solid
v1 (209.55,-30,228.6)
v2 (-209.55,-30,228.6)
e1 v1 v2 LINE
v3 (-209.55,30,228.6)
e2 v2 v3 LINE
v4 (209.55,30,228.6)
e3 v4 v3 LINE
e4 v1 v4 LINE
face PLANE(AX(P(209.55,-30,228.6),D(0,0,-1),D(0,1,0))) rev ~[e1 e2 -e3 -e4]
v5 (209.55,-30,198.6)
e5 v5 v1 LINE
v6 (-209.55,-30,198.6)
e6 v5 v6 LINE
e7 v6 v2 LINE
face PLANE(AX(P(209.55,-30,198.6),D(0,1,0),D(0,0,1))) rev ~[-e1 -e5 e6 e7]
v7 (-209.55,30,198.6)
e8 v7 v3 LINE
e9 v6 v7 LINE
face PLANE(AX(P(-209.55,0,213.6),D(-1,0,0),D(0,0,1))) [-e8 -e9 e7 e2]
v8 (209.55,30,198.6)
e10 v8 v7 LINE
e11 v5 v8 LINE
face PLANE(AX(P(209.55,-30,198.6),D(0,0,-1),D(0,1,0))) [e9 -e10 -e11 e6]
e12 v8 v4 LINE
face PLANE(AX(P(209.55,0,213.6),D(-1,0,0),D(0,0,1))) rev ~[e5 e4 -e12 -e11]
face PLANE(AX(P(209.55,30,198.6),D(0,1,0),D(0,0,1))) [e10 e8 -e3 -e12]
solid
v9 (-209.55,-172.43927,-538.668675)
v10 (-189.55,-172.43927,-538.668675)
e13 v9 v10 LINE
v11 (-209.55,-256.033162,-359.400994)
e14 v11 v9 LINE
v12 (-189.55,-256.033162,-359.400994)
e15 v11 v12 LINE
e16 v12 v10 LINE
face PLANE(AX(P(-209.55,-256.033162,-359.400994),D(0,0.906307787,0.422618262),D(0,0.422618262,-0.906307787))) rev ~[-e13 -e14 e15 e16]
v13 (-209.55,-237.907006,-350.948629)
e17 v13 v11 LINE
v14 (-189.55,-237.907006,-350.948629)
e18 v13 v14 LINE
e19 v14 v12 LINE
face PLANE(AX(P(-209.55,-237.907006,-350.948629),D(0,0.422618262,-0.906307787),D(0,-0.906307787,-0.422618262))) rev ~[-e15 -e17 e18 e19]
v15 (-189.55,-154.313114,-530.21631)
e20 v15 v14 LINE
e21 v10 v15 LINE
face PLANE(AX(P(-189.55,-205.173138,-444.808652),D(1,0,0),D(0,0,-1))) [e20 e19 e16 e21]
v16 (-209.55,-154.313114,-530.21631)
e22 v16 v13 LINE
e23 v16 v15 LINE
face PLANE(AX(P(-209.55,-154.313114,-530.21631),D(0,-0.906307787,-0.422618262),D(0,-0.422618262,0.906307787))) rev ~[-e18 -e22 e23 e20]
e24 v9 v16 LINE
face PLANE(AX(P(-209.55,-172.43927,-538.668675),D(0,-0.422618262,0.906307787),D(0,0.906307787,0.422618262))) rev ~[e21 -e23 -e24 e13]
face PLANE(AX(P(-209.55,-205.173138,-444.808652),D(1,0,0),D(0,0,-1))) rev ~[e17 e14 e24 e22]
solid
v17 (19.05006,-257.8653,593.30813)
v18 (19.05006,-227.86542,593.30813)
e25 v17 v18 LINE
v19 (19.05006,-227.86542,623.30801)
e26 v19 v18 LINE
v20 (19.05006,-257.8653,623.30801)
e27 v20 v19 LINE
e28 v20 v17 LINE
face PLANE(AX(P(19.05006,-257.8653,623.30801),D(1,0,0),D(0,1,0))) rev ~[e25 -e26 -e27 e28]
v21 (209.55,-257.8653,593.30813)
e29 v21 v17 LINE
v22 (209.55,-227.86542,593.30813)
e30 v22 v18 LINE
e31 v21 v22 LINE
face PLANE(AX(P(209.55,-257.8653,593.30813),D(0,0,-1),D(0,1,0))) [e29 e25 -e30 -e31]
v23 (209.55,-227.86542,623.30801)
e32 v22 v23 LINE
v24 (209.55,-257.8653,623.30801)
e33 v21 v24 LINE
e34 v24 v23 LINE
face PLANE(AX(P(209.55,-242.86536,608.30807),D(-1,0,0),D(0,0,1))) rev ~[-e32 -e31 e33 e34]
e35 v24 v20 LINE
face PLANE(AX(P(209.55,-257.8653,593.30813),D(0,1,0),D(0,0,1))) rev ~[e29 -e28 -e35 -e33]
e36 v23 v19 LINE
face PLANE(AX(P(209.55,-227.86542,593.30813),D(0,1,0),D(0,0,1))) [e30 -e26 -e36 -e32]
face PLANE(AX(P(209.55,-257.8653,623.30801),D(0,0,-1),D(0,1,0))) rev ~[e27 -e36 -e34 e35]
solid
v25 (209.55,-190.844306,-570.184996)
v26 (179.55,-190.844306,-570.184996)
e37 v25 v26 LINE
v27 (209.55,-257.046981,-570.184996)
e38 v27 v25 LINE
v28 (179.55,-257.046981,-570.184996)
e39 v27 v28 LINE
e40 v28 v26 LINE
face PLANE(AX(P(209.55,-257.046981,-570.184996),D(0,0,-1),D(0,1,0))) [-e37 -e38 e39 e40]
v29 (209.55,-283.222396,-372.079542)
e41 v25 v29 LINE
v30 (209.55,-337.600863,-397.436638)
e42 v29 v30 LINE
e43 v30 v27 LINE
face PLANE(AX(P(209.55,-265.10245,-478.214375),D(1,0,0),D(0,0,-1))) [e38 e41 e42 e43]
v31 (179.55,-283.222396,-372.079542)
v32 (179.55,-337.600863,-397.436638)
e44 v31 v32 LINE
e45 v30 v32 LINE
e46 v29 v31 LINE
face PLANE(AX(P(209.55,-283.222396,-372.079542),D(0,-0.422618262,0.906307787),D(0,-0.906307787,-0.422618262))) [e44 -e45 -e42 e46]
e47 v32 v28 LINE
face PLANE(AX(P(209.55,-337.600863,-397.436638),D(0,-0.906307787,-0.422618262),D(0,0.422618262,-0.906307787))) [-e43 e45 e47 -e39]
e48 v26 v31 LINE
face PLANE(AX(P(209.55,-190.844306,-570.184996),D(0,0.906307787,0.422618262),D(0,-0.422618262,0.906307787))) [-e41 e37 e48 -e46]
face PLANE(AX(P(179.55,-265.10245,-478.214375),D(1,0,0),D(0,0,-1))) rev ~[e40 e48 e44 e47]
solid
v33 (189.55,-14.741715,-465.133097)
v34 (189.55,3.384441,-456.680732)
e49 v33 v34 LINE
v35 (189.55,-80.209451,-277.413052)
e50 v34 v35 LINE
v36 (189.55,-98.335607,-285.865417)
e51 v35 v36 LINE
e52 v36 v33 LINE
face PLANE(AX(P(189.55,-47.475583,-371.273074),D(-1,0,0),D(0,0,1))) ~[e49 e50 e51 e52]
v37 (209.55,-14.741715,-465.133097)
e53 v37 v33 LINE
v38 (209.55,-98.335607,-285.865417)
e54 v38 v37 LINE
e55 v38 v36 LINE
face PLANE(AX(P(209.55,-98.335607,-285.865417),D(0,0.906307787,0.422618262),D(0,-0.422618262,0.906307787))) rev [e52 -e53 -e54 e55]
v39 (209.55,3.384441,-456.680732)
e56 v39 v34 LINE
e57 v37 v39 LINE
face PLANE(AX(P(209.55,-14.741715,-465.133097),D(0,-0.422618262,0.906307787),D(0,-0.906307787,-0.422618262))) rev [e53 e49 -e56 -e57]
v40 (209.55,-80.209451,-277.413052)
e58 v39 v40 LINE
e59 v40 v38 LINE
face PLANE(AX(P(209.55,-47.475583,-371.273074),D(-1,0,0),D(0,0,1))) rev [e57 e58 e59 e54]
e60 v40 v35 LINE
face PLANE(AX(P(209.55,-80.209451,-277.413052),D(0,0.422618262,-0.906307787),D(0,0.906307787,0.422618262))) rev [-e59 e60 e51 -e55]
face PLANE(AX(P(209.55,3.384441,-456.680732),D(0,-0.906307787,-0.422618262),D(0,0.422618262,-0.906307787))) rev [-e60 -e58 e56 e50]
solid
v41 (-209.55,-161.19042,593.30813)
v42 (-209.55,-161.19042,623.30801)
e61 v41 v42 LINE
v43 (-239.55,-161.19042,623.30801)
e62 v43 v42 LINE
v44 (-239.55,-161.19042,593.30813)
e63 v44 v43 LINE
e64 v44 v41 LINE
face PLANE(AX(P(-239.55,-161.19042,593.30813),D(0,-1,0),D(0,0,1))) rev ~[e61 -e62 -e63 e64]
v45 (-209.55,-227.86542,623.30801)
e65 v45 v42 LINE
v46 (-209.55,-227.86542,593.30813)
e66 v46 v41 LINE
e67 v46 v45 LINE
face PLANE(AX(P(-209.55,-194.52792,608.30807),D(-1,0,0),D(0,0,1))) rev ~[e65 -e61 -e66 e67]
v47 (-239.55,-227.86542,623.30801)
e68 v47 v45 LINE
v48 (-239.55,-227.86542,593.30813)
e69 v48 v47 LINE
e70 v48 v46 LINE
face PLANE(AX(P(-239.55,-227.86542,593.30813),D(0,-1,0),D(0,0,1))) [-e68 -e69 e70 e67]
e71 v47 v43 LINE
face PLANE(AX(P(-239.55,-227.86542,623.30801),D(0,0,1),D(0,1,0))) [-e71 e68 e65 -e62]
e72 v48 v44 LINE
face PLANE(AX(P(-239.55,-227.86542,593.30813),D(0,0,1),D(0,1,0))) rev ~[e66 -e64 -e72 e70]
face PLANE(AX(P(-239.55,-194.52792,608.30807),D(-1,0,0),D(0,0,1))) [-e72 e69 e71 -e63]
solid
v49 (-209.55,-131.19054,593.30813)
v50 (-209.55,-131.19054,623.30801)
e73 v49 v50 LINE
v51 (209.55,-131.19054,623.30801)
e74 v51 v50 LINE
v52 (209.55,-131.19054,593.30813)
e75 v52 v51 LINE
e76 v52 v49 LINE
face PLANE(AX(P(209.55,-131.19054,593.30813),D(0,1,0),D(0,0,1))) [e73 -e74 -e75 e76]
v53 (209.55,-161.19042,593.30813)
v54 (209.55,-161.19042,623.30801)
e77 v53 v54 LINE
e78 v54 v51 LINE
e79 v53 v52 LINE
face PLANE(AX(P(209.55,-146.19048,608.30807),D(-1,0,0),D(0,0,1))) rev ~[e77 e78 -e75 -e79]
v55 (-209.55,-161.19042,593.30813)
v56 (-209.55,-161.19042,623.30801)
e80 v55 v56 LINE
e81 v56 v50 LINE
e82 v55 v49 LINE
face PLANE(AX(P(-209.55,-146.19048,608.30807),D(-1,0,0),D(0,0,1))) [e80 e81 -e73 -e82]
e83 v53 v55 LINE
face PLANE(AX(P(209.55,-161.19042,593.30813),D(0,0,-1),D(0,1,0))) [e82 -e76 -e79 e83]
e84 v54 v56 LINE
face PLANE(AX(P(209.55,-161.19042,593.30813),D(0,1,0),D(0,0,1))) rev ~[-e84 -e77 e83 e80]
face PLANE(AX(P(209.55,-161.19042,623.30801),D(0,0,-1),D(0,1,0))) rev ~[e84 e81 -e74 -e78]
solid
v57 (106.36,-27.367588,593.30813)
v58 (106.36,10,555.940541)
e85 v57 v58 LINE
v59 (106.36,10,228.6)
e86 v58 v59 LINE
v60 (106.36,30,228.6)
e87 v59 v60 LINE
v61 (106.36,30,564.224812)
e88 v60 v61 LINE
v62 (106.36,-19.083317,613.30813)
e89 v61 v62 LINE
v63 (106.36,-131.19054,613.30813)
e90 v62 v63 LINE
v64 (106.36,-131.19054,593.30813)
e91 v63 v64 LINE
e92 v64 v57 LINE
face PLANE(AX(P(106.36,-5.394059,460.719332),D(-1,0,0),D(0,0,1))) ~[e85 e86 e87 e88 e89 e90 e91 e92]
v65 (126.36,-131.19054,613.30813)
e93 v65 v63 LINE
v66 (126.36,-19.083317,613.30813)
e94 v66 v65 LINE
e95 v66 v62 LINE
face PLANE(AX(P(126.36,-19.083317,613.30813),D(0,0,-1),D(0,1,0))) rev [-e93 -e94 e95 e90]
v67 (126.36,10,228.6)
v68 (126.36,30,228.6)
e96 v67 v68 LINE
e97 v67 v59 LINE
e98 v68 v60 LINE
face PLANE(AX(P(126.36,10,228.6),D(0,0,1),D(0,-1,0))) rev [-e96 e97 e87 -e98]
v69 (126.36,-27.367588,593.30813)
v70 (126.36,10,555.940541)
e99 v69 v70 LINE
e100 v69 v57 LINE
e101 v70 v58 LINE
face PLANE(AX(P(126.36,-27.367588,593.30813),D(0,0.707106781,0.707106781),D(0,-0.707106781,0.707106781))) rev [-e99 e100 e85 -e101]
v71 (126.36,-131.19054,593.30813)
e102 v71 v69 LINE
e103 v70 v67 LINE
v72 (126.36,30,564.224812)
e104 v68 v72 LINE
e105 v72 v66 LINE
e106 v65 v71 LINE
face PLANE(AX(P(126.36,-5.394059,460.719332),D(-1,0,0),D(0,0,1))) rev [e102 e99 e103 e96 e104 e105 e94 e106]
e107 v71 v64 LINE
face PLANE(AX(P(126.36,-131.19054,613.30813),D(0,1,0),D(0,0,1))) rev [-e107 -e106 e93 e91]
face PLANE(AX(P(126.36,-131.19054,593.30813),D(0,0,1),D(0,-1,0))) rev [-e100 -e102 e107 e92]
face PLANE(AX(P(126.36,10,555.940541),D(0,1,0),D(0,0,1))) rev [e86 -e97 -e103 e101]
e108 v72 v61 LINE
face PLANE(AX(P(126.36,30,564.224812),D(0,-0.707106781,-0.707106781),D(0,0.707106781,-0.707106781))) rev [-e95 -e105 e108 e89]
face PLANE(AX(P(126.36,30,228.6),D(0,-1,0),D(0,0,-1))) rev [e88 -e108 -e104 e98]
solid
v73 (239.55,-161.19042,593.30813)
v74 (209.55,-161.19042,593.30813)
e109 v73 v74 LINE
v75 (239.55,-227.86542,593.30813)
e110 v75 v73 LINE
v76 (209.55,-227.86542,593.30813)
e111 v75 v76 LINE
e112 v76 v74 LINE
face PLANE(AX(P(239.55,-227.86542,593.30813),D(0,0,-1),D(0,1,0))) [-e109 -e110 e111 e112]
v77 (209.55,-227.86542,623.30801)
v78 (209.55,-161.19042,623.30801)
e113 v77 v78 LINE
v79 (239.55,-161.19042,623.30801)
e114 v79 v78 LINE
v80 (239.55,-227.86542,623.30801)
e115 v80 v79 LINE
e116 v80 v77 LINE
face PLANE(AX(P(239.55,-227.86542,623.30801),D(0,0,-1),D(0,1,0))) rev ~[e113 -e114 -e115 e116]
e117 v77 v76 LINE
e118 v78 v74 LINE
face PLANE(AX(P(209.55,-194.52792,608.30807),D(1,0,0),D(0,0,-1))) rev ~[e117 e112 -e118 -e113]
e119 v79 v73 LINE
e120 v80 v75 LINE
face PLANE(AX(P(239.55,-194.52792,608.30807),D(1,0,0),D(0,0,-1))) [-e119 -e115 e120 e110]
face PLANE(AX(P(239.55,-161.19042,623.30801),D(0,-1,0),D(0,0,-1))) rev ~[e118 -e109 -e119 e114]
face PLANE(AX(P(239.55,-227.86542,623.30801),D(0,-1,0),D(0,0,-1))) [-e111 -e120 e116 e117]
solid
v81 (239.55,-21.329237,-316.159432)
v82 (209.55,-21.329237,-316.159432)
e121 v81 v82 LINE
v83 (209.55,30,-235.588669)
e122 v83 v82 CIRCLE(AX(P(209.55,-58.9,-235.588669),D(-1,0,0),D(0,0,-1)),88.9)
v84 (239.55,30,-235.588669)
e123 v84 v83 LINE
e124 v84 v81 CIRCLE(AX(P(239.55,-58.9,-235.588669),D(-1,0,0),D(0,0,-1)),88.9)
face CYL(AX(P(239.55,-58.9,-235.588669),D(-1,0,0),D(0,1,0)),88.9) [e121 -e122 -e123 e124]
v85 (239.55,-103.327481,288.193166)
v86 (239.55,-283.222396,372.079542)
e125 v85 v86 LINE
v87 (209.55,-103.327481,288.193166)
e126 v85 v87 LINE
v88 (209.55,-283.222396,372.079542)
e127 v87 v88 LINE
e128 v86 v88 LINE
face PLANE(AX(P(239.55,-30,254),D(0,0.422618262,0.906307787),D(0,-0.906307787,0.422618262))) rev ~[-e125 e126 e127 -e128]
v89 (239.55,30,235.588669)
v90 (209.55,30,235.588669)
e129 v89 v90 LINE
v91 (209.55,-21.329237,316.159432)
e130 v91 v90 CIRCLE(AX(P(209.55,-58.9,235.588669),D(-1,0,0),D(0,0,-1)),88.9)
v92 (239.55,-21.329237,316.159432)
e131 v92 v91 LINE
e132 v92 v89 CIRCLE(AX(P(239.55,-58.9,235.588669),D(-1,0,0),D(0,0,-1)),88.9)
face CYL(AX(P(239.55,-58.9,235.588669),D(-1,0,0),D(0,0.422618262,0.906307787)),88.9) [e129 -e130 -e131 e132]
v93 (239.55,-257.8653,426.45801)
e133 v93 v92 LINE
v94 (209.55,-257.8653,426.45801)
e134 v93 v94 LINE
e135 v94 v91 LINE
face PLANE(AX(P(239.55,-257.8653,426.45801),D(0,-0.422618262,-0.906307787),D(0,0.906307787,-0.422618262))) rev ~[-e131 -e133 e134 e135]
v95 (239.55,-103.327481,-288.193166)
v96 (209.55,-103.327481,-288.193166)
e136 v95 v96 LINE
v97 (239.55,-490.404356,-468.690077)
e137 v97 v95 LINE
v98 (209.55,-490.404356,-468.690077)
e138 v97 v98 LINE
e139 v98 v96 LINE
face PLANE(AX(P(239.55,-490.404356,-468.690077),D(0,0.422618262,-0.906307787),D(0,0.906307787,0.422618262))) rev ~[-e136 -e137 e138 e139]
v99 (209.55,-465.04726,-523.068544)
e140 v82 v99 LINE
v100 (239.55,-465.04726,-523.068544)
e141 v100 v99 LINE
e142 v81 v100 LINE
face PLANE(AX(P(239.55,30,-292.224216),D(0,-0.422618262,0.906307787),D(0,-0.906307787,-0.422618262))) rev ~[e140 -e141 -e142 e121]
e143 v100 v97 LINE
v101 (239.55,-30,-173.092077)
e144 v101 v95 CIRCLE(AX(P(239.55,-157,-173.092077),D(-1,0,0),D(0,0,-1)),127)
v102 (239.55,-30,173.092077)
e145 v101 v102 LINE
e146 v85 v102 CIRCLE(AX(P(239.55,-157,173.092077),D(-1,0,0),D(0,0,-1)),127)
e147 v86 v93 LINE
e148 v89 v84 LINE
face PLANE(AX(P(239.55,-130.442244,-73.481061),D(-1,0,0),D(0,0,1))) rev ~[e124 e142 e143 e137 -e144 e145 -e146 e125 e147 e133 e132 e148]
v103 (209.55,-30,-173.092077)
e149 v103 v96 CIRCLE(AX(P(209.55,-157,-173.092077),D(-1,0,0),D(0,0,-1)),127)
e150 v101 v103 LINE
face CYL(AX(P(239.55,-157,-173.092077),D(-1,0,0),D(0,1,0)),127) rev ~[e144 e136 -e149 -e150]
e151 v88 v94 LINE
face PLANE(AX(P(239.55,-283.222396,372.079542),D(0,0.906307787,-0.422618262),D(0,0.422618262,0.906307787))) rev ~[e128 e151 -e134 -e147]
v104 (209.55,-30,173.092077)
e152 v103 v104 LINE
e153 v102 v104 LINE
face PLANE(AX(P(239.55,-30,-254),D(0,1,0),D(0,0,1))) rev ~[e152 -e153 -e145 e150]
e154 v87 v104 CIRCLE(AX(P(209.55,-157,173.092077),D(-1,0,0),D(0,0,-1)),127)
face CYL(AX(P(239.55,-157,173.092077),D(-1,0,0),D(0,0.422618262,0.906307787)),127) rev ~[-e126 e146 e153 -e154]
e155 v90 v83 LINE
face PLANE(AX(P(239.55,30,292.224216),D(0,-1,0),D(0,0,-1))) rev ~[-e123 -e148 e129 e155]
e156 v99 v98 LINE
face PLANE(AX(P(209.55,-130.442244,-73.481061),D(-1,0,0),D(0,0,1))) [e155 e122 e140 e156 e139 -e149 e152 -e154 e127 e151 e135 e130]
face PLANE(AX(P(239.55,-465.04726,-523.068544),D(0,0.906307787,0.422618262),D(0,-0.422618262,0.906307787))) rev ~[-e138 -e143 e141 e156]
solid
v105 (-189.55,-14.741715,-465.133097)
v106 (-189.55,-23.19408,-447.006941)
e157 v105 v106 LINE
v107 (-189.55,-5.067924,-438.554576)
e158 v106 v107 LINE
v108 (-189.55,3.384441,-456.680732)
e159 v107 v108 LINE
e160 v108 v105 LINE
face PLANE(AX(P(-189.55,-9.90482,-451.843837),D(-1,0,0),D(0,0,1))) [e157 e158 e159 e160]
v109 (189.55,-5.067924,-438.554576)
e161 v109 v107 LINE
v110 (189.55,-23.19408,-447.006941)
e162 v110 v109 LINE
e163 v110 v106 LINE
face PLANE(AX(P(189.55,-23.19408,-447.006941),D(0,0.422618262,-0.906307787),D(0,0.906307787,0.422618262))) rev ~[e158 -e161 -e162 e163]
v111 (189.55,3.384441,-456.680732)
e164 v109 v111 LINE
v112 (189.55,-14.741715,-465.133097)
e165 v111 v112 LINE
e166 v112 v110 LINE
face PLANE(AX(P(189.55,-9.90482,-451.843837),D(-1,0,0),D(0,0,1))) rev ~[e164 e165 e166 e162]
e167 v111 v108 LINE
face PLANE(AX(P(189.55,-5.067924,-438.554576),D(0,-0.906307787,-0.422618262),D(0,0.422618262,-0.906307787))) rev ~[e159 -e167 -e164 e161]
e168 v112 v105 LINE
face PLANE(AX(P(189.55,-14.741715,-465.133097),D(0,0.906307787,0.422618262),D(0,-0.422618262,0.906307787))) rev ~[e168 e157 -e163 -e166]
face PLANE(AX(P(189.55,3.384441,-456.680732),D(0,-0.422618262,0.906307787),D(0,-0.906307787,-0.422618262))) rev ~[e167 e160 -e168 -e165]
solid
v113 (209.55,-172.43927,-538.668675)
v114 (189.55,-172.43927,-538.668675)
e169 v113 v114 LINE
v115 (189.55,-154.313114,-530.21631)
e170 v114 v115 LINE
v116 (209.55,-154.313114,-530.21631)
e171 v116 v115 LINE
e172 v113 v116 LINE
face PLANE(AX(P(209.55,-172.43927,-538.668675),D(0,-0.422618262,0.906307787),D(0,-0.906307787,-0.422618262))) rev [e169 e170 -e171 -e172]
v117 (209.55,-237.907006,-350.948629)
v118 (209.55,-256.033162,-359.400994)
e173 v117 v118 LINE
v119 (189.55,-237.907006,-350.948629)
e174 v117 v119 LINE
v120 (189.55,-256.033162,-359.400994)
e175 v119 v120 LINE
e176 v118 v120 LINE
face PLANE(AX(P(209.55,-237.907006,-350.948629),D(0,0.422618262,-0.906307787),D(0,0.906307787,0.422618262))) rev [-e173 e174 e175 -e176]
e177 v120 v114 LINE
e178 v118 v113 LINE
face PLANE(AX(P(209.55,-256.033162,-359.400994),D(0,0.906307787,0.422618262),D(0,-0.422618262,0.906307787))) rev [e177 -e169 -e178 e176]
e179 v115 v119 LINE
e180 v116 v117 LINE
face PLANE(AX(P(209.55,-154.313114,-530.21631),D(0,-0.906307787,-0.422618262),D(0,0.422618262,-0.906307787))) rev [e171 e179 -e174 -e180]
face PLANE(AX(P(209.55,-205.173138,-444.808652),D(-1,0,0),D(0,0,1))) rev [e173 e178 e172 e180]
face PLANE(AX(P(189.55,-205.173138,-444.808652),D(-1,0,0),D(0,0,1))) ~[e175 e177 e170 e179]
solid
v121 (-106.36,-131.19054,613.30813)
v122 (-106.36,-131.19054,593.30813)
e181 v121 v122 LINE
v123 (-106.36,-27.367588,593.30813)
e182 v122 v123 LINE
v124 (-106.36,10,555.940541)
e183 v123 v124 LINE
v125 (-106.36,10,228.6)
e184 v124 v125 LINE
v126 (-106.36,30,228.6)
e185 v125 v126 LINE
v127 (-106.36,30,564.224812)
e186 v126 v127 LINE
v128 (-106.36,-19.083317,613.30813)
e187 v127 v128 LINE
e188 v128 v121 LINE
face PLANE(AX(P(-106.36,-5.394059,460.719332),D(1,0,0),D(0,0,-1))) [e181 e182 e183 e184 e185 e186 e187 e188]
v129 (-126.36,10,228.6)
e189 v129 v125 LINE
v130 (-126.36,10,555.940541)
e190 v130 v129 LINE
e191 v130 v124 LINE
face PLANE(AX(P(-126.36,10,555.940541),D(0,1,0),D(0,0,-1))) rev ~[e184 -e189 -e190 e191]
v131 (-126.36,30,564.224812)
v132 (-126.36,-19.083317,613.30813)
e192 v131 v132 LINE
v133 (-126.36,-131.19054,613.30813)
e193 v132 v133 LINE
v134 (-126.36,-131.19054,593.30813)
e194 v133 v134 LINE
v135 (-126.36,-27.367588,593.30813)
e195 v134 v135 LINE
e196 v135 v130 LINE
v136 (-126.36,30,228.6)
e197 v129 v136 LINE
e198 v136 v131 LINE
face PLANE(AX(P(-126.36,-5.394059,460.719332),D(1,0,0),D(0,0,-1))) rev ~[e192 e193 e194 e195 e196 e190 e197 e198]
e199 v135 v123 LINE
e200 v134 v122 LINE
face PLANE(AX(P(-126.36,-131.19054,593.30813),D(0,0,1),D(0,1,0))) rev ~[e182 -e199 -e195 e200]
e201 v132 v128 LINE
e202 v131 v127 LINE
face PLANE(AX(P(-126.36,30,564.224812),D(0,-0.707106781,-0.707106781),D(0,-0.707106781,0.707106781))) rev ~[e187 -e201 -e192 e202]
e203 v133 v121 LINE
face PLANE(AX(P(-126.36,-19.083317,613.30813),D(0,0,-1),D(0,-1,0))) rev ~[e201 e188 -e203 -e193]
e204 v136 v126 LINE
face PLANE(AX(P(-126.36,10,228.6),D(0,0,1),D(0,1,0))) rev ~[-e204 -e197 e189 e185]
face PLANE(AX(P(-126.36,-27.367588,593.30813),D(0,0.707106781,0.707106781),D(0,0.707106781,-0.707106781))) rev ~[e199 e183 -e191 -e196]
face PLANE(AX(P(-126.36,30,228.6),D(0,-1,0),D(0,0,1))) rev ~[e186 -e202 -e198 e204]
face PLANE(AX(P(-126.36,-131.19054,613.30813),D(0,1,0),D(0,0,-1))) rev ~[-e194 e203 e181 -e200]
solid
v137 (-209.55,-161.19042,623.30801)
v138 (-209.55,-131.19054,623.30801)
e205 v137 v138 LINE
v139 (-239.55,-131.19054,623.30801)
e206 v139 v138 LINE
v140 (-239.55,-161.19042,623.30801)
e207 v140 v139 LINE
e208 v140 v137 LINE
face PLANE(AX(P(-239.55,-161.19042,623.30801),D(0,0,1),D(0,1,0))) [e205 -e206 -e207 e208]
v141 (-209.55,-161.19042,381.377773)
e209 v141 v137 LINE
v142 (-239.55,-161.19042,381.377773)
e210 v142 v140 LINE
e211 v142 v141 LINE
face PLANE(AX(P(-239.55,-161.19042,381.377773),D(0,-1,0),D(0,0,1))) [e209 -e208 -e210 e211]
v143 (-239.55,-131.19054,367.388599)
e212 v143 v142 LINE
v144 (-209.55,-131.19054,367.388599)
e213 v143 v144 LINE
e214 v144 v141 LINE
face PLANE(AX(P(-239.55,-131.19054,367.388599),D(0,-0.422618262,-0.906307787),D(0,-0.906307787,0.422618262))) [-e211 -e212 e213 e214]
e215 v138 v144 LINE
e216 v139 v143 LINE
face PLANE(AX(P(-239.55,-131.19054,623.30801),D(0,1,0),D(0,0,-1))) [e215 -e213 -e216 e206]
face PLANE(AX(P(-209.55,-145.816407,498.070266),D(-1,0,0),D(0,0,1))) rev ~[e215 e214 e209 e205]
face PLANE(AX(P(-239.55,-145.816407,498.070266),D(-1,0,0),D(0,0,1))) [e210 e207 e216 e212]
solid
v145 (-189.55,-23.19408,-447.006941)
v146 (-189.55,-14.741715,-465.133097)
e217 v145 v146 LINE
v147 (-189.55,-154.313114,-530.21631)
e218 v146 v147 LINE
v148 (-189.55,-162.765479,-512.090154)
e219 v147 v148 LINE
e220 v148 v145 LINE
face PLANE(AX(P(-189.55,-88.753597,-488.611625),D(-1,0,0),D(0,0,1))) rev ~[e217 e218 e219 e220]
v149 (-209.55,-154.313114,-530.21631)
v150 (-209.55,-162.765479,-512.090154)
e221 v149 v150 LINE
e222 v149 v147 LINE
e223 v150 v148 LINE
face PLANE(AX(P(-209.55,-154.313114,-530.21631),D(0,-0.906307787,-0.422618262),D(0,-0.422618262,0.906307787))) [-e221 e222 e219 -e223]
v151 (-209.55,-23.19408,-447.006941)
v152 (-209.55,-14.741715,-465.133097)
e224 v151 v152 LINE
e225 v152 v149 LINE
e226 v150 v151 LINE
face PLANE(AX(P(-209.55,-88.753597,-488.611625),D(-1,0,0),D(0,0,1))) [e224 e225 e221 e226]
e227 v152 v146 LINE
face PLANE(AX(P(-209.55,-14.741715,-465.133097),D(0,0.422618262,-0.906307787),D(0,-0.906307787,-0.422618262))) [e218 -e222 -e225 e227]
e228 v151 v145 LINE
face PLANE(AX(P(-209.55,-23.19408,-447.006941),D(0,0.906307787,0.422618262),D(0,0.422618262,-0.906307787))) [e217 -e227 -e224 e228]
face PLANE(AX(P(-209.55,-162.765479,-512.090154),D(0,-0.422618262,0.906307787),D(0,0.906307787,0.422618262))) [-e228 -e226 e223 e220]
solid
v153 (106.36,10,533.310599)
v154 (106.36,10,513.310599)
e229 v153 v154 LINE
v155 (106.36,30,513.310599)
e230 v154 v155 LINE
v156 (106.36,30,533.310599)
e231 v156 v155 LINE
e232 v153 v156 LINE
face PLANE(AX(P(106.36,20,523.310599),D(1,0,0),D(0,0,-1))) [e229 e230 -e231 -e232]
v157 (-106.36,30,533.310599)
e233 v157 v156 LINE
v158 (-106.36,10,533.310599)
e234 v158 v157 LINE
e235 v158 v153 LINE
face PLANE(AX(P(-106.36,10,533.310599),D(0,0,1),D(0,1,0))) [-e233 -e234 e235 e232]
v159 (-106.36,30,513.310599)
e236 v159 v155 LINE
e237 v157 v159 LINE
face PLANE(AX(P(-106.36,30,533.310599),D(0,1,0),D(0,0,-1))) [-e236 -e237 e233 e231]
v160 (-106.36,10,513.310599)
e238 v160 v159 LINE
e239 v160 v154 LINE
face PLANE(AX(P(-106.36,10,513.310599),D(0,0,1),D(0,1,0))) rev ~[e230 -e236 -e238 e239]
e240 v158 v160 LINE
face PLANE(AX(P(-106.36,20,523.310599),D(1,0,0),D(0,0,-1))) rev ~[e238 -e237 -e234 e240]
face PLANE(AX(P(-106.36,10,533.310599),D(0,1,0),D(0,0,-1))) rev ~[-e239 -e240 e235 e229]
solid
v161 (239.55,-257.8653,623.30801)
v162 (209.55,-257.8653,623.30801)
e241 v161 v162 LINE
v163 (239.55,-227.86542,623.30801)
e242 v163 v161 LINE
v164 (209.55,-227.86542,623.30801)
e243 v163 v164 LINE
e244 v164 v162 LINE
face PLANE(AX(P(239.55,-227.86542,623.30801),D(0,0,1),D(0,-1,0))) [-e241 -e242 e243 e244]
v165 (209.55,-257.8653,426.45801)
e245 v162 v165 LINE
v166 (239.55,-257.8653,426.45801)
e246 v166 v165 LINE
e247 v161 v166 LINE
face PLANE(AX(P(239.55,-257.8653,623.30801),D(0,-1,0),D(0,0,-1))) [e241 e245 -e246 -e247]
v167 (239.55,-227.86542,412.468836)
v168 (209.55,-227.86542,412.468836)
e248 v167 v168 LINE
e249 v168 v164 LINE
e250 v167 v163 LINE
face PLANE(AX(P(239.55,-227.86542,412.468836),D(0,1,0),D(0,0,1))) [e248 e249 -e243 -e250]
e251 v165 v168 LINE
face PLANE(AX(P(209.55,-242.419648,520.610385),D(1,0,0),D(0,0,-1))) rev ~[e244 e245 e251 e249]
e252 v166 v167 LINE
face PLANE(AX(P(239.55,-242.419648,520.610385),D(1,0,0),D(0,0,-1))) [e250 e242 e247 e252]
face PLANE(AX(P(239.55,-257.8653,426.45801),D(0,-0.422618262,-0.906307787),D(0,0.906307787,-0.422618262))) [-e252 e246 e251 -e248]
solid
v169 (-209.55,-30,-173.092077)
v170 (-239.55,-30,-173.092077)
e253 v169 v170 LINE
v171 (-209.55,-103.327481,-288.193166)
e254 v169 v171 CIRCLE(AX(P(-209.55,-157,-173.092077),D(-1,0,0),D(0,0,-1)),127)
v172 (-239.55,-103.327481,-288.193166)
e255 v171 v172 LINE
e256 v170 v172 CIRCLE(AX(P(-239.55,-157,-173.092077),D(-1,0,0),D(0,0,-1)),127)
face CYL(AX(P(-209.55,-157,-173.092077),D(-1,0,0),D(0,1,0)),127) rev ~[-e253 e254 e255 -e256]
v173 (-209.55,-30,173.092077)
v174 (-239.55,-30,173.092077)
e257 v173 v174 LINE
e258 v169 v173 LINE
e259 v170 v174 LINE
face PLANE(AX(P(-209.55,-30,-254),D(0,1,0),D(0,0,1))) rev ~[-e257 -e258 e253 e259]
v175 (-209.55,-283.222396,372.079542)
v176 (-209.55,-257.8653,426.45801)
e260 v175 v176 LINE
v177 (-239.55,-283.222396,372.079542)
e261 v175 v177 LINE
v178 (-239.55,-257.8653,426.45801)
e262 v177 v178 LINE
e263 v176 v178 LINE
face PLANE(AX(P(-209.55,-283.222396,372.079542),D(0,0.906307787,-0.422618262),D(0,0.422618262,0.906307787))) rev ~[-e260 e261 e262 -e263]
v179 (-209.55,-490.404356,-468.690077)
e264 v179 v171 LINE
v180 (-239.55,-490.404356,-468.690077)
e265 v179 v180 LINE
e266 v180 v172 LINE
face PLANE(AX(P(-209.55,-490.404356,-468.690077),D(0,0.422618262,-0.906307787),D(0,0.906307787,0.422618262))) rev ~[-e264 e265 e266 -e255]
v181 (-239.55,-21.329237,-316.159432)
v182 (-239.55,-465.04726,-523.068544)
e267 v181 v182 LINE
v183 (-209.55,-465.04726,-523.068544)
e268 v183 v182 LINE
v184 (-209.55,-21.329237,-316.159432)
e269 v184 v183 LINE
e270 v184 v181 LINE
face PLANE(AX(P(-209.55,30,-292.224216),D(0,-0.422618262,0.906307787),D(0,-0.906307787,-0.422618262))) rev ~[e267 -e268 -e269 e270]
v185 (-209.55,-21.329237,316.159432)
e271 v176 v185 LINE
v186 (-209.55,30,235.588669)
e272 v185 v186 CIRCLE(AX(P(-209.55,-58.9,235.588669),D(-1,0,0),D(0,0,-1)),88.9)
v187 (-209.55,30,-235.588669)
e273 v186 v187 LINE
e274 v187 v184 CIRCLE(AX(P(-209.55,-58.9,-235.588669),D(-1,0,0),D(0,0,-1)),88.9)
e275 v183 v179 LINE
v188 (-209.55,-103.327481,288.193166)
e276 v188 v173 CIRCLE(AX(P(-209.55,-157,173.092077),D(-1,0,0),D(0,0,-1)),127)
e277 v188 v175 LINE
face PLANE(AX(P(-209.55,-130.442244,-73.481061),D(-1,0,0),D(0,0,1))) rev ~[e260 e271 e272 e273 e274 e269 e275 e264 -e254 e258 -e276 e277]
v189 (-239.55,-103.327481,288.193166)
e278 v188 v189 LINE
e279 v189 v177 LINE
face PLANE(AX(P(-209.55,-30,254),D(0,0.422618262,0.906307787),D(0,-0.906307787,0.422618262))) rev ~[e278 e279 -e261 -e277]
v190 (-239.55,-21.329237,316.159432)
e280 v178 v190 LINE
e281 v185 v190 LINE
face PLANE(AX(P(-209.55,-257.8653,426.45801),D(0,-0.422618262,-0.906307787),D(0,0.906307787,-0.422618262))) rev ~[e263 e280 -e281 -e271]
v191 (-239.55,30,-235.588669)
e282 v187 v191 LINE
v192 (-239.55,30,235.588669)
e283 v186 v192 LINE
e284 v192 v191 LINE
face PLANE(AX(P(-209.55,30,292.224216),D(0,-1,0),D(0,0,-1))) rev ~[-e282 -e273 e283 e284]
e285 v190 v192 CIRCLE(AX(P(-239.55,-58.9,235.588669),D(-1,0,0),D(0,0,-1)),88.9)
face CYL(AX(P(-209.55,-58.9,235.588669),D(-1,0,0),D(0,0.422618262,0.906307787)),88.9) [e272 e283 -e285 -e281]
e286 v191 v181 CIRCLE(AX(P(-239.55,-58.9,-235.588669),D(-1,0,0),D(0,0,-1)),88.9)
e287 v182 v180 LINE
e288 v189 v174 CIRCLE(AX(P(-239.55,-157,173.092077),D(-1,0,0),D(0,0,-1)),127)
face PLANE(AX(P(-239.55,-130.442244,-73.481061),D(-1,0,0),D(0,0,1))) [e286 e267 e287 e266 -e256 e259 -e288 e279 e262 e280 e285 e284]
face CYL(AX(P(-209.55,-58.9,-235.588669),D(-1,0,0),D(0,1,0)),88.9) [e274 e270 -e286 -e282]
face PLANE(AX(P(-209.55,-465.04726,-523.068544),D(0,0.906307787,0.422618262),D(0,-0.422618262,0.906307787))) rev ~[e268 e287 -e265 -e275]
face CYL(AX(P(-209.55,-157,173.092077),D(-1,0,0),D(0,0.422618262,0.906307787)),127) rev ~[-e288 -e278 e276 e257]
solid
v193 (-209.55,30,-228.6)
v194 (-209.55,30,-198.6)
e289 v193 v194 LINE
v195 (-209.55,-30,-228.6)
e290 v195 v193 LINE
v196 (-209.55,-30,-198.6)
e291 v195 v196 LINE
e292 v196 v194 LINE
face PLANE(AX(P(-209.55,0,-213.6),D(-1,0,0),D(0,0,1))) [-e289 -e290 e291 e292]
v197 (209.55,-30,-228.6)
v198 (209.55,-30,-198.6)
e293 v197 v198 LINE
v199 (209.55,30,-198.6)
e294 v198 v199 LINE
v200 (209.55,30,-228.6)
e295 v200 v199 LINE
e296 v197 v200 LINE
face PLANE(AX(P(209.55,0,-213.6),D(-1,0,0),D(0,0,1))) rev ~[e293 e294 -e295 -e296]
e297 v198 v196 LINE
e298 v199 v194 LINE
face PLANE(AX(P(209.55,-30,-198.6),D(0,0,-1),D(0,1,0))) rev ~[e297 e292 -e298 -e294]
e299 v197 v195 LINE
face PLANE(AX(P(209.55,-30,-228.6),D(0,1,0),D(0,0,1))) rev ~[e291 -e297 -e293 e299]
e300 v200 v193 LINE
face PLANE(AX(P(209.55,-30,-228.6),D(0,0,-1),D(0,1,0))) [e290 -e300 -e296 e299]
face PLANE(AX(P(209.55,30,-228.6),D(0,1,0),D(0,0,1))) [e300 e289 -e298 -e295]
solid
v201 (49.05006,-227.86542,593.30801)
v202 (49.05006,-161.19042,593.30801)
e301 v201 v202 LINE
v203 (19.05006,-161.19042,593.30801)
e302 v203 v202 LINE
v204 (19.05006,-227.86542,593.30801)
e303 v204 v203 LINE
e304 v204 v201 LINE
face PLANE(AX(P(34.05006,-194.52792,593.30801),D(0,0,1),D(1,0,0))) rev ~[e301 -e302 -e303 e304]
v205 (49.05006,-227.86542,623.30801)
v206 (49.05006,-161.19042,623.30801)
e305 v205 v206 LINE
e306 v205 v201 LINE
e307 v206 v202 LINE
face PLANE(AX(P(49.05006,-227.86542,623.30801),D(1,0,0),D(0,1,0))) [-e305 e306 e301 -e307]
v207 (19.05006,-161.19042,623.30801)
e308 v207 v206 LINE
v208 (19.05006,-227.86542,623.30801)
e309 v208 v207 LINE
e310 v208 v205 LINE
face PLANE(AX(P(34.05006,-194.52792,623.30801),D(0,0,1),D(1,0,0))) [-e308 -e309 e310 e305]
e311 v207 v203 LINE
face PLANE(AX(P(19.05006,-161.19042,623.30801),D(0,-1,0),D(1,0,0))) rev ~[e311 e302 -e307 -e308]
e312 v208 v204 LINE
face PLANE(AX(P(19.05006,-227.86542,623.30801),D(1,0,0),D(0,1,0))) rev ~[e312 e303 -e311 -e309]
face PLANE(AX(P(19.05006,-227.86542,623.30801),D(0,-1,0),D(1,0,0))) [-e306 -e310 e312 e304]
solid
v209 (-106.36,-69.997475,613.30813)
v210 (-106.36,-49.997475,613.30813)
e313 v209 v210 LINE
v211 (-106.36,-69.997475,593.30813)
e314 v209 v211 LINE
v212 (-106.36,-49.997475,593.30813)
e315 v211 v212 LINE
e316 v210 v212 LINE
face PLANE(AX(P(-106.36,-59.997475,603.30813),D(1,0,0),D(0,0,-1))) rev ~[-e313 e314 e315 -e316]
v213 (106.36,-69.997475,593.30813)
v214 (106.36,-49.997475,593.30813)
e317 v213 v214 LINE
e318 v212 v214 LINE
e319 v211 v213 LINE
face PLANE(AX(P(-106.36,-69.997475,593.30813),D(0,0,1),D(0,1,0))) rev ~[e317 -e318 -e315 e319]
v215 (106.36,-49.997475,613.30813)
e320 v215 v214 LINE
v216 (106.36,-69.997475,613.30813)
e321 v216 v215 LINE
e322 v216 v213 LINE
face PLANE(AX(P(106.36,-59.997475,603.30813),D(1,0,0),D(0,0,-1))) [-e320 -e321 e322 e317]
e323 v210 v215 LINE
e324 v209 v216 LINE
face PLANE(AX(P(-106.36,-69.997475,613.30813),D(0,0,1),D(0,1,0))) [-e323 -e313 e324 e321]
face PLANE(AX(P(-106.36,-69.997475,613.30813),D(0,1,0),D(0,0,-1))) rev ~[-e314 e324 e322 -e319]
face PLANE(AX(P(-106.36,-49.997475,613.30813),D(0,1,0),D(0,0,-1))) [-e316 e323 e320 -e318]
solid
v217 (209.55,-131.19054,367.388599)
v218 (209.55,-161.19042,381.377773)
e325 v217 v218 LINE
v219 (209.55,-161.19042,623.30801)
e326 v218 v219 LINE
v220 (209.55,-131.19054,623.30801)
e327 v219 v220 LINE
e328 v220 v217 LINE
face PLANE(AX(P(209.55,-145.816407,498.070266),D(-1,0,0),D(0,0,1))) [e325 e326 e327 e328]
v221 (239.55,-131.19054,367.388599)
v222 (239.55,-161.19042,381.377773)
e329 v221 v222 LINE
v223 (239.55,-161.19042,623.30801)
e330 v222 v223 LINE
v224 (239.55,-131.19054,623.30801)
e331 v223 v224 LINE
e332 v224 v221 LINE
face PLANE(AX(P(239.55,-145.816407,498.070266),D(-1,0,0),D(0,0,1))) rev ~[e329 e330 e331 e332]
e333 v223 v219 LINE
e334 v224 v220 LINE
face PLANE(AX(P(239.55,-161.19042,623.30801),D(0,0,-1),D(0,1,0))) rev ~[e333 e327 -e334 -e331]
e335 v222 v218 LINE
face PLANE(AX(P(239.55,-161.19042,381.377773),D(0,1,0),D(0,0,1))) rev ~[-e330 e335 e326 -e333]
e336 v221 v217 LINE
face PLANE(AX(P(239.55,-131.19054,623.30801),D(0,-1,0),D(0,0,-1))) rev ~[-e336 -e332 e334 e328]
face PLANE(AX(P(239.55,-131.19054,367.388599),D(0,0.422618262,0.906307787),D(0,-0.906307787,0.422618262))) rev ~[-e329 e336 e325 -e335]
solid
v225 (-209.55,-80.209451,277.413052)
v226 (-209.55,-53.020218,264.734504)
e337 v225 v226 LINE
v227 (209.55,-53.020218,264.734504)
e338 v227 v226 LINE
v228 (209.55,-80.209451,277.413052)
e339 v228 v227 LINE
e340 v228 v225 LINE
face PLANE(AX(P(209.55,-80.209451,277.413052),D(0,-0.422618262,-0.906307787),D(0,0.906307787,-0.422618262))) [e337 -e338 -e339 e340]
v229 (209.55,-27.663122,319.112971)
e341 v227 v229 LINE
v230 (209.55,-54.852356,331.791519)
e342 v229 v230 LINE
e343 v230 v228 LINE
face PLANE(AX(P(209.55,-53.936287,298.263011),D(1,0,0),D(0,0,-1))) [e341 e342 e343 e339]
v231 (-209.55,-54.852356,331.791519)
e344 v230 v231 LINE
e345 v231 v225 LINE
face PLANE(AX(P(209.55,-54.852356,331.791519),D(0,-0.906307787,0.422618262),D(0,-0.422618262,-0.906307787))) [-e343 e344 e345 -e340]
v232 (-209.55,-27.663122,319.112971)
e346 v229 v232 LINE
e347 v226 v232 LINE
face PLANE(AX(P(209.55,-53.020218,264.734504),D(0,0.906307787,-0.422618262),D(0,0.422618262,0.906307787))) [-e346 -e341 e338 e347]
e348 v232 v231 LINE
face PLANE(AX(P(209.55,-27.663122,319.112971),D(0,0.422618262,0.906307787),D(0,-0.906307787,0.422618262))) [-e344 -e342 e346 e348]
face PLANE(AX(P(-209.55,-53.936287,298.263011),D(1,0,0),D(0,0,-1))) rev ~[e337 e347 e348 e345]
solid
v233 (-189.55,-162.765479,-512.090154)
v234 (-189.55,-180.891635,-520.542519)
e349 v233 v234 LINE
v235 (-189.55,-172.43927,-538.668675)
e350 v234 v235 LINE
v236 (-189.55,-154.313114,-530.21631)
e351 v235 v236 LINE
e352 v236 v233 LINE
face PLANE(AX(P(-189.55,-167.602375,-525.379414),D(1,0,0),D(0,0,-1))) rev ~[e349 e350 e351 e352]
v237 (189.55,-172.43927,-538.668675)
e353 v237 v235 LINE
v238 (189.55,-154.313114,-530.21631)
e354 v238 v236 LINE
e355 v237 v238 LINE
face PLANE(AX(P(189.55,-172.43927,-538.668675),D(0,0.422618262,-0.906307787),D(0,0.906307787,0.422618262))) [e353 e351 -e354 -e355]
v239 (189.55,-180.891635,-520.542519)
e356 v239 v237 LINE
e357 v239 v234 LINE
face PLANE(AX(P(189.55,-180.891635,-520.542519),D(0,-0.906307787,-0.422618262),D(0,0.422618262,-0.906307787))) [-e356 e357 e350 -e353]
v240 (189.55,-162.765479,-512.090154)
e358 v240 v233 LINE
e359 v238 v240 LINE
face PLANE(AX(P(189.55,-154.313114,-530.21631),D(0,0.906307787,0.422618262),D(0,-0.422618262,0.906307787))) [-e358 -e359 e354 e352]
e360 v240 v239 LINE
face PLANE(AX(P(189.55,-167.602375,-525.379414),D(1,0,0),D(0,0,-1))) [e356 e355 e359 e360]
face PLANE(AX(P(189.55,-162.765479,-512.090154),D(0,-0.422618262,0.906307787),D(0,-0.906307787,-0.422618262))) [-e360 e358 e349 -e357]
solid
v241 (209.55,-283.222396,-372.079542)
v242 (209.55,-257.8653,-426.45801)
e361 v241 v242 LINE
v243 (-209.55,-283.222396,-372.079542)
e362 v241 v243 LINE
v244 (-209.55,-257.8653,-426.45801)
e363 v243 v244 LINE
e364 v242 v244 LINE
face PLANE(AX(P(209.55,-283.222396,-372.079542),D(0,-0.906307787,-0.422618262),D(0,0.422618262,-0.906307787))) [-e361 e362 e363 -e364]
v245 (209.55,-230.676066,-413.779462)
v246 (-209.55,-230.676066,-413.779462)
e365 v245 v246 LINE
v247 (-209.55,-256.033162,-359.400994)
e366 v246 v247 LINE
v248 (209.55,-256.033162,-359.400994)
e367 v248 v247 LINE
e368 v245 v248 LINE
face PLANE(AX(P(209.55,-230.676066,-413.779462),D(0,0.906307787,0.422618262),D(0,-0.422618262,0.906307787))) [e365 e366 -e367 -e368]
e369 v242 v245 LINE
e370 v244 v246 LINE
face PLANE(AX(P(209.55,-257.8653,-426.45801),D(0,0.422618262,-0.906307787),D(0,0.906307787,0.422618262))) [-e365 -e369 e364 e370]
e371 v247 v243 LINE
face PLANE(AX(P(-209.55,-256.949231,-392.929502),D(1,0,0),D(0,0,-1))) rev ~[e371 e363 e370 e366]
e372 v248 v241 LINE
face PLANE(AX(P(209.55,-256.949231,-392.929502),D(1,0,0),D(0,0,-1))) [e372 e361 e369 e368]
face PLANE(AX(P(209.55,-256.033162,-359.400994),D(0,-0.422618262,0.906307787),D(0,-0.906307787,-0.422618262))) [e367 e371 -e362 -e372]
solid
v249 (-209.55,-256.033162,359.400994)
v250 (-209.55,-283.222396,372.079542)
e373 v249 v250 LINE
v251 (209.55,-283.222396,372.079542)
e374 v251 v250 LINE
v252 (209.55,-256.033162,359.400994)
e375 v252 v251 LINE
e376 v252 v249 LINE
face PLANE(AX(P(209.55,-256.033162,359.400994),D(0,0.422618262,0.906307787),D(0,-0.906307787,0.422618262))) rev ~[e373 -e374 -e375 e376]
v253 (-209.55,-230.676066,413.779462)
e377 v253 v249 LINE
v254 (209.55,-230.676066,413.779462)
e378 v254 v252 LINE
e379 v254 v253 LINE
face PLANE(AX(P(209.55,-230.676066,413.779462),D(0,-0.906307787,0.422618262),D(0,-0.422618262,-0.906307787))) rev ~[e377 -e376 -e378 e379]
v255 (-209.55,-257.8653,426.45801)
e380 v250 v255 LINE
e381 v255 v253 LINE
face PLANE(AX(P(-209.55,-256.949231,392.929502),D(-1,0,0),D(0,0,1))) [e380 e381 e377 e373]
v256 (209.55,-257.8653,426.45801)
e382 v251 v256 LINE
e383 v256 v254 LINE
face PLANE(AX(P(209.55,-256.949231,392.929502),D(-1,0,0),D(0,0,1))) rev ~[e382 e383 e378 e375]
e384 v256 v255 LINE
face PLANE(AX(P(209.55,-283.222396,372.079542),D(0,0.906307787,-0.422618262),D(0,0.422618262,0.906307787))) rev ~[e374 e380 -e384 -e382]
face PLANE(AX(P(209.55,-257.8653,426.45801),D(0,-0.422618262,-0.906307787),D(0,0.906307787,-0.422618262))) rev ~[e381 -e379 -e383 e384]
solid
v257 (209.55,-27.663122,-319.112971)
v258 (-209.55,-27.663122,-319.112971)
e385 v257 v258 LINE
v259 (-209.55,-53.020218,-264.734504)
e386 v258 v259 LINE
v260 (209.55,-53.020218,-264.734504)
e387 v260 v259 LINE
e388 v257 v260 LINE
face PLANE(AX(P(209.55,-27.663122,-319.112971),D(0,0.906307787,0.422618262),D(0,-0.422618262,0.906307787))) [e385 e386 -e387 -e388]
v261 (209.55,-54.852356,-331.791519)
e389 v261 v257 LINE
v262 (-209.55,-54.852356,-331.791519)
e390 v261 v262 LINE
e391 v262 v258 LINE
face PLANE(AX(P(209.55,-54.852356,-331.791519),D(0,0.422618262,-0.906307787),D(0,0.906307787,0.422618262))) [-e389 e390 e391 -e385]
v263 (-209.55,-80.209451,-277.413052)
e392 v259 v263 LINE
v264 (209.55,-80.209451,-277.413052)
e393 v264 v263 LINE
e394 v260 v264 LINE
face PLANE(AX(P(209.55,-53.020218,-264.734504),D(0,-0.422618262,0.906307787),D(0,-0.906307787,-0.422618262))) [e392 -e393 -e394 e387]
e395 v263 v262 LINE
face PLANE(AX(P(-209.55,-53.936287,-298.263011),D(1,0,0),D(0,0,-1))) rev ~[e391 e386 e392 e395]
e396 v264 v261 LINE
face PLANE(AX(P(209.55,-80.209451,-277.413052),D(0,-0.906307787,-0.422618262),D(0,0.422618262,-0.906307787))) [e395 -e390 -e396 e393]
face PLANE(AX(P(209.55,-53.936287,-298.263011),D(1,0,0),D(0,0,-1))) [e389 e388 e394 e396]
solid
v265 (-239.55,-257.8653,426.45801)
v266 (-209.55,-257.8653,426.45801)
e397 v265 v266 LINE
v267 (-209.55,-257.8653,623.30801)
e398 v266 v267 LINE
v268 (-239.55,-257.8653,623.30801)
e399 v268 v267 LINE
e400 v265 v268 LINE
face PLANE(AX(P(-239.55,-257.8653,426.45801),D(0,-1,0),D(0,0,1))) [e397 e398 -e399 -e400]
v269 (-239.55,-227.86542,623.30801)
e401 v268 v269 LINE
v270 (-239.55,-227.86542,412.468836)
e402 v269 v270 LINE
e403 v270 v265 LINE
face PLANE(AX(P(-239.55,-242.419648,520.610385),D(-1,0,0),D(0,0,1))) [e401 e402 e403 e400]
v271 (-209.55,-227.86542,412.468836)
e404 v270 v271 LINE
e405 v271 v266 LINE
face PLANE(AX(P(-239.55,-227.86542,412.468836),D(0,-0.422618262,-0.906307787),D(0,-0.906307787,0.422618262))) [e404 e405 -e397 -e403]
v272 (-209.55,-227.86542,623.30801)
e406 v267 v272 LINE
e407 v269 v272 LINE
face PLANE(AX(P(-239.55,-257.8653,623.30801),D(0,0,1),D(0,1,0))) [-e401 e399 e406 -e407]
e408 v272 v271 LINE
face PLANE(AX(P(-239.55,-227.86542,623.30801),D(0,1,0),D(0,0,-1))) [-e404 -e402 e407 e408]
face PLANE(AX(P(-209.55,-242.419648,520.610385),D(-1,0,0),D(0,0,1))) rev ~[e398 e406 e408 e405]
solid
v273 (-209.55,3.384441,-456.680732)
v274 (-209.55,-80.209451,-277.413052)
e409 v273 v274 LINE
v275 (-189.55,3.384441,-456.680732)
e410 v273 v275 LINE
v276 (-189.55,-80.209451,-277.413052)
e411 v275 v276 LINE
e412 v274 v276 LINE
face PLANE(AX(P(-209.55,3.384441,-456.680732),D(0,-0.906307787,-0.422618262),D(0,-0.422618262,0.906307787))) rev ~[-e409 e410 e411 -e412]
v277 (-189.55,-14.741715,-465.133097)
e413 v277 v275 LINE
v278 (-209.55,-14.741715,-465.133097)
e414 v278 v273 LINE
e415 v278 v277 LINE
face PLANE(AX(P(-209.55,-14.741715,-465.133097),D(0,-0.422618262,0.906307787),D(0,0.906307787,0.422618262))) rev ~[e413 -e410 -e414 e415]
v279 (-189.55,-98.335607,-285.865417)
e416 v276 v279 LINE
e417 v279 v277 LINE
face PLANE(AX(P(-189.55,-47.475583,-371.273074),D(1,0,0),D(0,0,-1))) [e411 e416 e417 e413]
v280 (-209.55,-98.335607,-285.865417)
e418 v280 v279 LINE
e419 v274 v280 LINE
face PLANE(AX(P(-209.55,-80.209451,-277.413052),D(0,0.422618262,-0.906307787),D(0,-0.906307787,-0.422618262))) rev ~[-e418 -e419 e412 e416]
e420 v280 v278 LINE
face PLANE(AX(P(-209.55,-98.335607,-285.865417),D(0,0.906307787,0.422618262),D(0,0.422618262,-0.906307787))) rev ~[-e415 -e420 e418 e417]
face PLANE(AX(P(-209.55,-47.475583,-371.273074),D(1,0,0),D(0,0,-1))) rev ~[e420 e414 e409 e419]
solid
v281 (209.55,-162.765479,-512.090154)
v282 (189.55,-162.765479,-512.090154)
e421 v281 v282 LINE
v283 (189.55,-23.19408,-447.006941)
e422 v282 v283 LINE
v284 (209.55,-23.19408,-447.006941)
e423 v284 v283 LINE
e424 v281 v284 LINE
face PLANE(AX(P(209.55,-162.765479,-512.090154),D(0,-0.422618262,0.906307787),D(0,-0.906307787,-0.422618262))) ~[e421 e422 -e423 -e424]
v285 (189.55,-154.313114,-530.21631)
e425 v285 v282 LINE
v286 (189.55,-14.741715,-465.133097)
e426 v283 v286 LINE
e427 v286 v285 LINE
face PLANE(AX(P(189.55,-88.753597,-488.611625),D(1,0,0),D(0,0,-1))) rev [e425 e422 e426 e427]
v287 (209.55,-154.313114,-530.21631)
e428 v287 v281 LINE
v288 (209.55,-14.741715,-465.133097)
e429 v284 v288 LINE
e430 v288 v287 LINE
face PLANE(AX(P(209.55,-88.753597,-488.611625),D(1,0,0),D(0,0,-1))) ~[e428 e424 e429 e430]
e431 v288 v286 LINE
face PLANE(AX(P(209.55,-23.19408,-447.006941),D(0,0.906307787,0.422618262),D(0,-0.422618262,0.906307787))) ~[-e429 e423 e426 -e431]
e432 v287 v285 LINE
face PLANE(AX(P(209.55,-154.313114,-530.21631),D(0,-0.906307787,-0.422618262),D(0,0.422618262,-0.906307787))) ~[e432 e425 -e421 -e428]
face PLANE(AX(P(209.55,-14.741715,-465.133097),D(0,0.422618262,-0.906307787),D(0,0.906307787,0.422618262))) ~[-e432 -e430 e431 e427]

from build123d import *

# Parameters (mm, degrees)
BOSS_EXTRUDE1_START   = 239.55
BOSS_EXTRUDE1_DEPTH   = 30
BOSS_EXTRUDE2_DEPTH   = 30
BOSS_EXTRUDE2_2_DEPTH = 30
SKETCH12_W            = 29.999880001
SKETCH12_H            = 66.675
BOSS_EXTRUDE11_DEPTH  = 30
SKETCH3_W             = 30
SKETCH3_H             = 60
BOSS_EXTRUDE3_DEPTH   = 419.1
BOSS_EXTRUDE3_2_DEPTH = 419.1
BOSS_EXTRUDE3_3_DEPTH = 419.1
SKETCH3_W_2           = 29.999880001
SKETCH3_H_2           = 29.99988
BOSS_EXTRUDE3_4_DEPTH = 419.1
SKETCH3_H_3           = 29.999880001
BOSS_EXTRUDE3_5_DEPTH = 419.1
BOSS_EXTRUDE3_6_DEPTH = 419.1
BOSS_EXTRUDE3_7_DEPTH = 419.1
BOSS_EXTRUDE3_8_DEPTH = 419.1
BOSS_EXTRUDE4_DEPTH   = 30
BOSS_EXTRUDE5_DEPTH   = 30
BOSS_EXTRUDE5_2_DEPTH = 30
SKETCH13_W            = 29.999880001
SKETCH13_H            = 66.675
BOSS_EXTRUDE12_DEPTH  = 30
BOSS_EXTRUDE6_DEPTH   = 20
BOSS_EXTRUDE6_2_DEPTH = 20
BOSS_EXTRUDE13_DEPTH  = 20
BOSS_EXTRUDE7_DEPTH   = 379.1
BOSS_EXTRUDE7_2_DEPTH = 379.1
BOSS_EXTRUDE8_DEPTH   = 20
SKETCH9_W             = 20
SKETCH9_H             = 20
BOSS_EXTRUDE9_DEPTH   = 212.72
BOSS_EXTRUDE9_2_DEPTH = 212.72
SKETCH10_W            = 30
SKETCH10_H            = 66.675
BOSS_EXTRUDE10_DEPTH  = 30
SKETCH11_W            = 228.60006
SKETCH11_H            = 29.999880001
CUT_EXTRUDE1_DEPTH    = 29.99988
BOSS_EXTRUDE14_DEPTH  = 30
FILLET1_R             = 88.9
FILLET2_R             = 88.9
FILLET3_R             = 127
FILLET4_R             = 127


with BuildPart() as part:
    # Sketch1 → Boss-Extrude1 (new body)
    with BuildSketch(Plane(origin=(0, 0, 0), x_dir=(0, 0, -1), z_dir=(1, 0, 0)).offset(BOSS_EXTRUDE1_START)):
        Polygon((254, -30), (-254, -30), (-372.07954233, -283.222395698), (-426.458009553, -257.865299994), (-292.224215648, 30), (292.224215648, 30), (523.068544186, -465.04726011), (468.690076964, -490.404355815), align=None)
    extrude(amount=-BOSS_EXTRUDE1_DEPTH)

    # Fillet1
    fillet1_edges = [part.edges().sort_by_distance(p)[0] for p in [
        (224.55, 30, 292.224215648),
        (224.55, 30, -292.224215648),
    ]]
    fillet(fillet1_edges, radius=FILLET1_R)

    # Fillet3
    fillet3_edges = [part.edges().sort_by_distance(p)[0] for p in [
        (224.55, -30, -254),
        (224.55, -30, 254),
    ]]
    fillet(fillet3_edges, radius=FILLET3_R)


with BuildPart() as body_2:
    # Sketch2 → Boss-Extrude2 (new body)
    with BuildSketch(Plane(origin=(239.55, 0, 0), x_dir=(0, 0, -1), z_dir=(1, 0, 0))):
        Polygon((-381.377772657, -161.190419993), (-623.308009553, -161.190419993), (-623.308009553, -131.190539993), (-367.388598869, -131.190539993), align=None)
    extrude(amount=-BOSS_EXTRUDE2_DEPTH)


with BuildPart() as body_3:
    # Sketch2 → Boss-Extrude2 2 (new body)
    with BuildSketch(Plane(origin=(239.55, 0, 0), x_dir=(0, 0, -1), z_dir=(1, 0, 0))):
        Polygon((-412.468835765, -227.865419993), (-623.308009553, -227.865419993), (-623.308009553, -257.865299994), (-426.458009553, -257.865299994), align=None)
    extrude(amount=-BOSS_EXTRUDE2_2_DEPTH)


with BuildPart() as body_4:
    # Sketch12 → Boss-Extrude11 (new body)
    with BuildSketch(Plane(origin=(239.55, 0, 0), x_dir=(0, 0, -1), z_dir=(1, 0, 0))):
        with Locations((-608.308069553, -194.527919993)):
            Rectangle(SKETCH12_W, SKETCH12_H)
    extrude(amount=-BOSS_EXTRUDE11_DEPTH)


with BuildPart() as body_5:
    # Sketch3 → Boss-Extrude3 (new body)
    with BuildSketch(Plane.ZY.offset(-209.55)):
        with Locations((213.6, 0)):
            Rectangle(SKETCH3_W, SKETCH3_H)
    extrude(amount=BOSS_EXTRUDE3_DEPTH)


with BuildPart() as body_6:
    # Sketch3 → Boss-Extrude3 2 (new body)
    with BuildSketch(Plane.ZY.offset(-209.55)):
        Polygon((264.734503848, -53.020217791), (319.11297107, -27.663122086), (331.791518923, -54.852355697), (277.4130517, -80.209451402), align=None)
    extrude(amount=BOSS_EXTRUDE3_2_DEPTH)


with BuildPart() as body_7:
    # Sketch3 → Boss-Extrude3 3 (new body)
    with BuildSketch(Plane.ZY.offset(-209.55)):
        Polygon((372.07954233, -283.222395698), (426.458009553, -257.865299994), (413.7794617, -230.676066382), (359.400994478, -256.033162087), align=None)
    extrude(amount=BOSS_EXTRUDE3_3_DEPTH)


with BuildPart() as body_8:
    # Sketch3 → Boss-Extrude3 4 (new body)
    with BuildSketch(Plane.ZY.offset(-209.55)):
        with Locations((608.308069553, -146.190479993)):
            Rectangle(SKETCH3_W_2, SKETCH3_H_2)
    extrude(amount=BOSS_EXTRUDE3_4_DEPTH)


with BuildPart() as body_9:
    # Sketch3 → Boss-Extrude3 5 (new body)
    with BuildSketch(Plane.ZY.offset(-209.55)):
        with Locations((608.308069553, -242.865359994)):
            Rectangle(SKETCH3_W_2, SKETCH3_H_3)
    extrude(amount=BOSS_EXTRUDE3_5_DEPTH)

    # Sketch11 → Cut-Extrude1 (cut)
    with BuildSketch(Plane.XY.offset(623.308009553)):
        with Locations((-95.24997, -242.865359994)):
            Rectangle(SKETCH11_W, SKETCH11_H)
    extrude(amount=-CUT_EXTRUDE1_DEPTH, mode=Mode.SUBTRACT)


with BuildPart() as body_10:
    # Sketch3 → Boss-Extrude3 6 (new body)
    with BuildSketch(Plane.ZY.offset(-209.55)):
        Polygon((-359.400994478, -256.033162087), (-372.07954233, -283.222395698), (-426.458009553, -257.865299994), (-413.7794617, -230.676066382), align=None)
    extrude(amount=BOSS_EXTRUDE3_6_DEPTH)


with BuildPart() as body_11:
    # Sketch3 → Boss-Extrude3 7 (new body)
    with BuildSketch(Plane.ZY.offset(-209.55)):
        with Locations((-213.6, 0)):
            Rectangle(SKETCH3_W, SKETCH3_H)
    extrude(amount=BOSS_EXTRUDE3_7_DEPTH)


with BuildPart() as body_12:
    # Sketch3 → Boss-Extrude3 8 (new body)
    with BuildSketch(Plane.ZY.offset(-209.55)):
        Polygon((-331.791518923, -54.852355697), (-319.11297107, -27.663122086), (-264.734503848, -53.020217791), (-277.4130517, -80.209451402), align=None)
    extrude(amount=BOSS_EXTRUDE3_8_DEPTH)


with BuildPart() as body_13:
    # Sketch4 → Boss-Extrude4 (new body)
    with BuildSketch(Plane.ZY.offset(209.55)):
        Polygon((372.07954233, -283.222395698), (426.458009553, -257.865299994), (292.224215648, 30), (-292.224215648, 30), (-523.068544186, -465.04726011), (-468.690076964, -490.404355815), (-254, -30), (254, -30), align=None)
    extrude(amount=BOSS_EXTRUDE4_DEPTH)

    # Fillet2
    fillet2_edges = [body_13.edges().sort_by_distance(p)[0] for p in [
        (-224.55, 30, -292.224215648),
        (-224.55, 30, 292.224215648),
    ]]
    fillet(fillet2_edges, radius=FILLET2_R)

    # Fillet4
    fillet4_edges = [body_13.edges().sort_by_distance(p)[0] for p in [
        (-224.55, -30, 254),
        (-224.55, -30, -254),
    ]]
    fillet(fillet4_edges, radius=FILLET4_R)


with BuildPart() as body_14:
    # Sketch5 → Boss-Extrude5 (new body)
    with BuildSketch(Plane.ZY.offset(239.55)):
        Polygon((623.308009553, -227.865419993), (412.468835765, -227.865419993), (426.458009553, -257.865299994), (623.308009553, -257.865299994), align=None)
    extrude(amount=-BOSS_EXTRUDE5_DEPTH)


with BuildPart() as body_15:
    # Sketch5 → Boss-Extrude5 2 (new body)
    with BuildSketch(Plane.ZY.offset(239.55)):
        Polygon((381.377772657, -161.190419993), (623.308009553, -161.190419993), (623.308009553, -131.190539993), (367.388598869, -131.190539993), align=None)
    extrude(amount=-BOSS_EXTRUDE5_2_DEPTH)


with BuildPart() as body_16:
    # Sketch13 → Boss-Extrude12 (new body)
    with BuildSketch(Plane.ZY.offset(239.55)):
        with Locations((608.308069553, -194.527919993)):
            Rectangle(SKETCH13_W, SKETCH13_H)
    extrude(amount=-BOSS_EXTRUDE12_DEPTH)


with BuildPart() as body_17:
    # Sketch6 → Boss-Extrude6 (new body)
    with BuildSketch(Plane.ZY.offset(209.55)):
        Polygon((-456.680731976, 3.38444077), (-277.4130517, -80.209451402), (-285.865416935, -98.335607143), (-465.133097211, -14.74171497), align=None)
    extrude(amount=-BOSS_EXTRUDE6_DEPTH)


with BuildPart() as body_18:
    # Sketch6 → Boss-Extrude6 2 (new body)
    with BuildSketch(Plane.ZY.offset(209.55)):
        Polygon((-530.216309519, -154.313114174), (-350.948629243, -237.907006346), (-359.400994478, -256.033162087), (-538.668674754, -172.439269915), align=None)
    extrude(amount=-BOSS_EXTRUDE6_2_DEPTH)


with BuildPart() as body_19:
    # Sketch14 → Boss-Extrude13 (new body)
    with BuildSketch(Plane.ZY.offset(209.55)):
        Polygon((-465.133097211, -14.74171497), (-530.216309519, -154.313114174), (-512.090153778, -162.765479409), (-447.00694147, -23.194080205), align=None)
    extrude(amount=-BOSS_EXTRUDE13_DEPTH)


with BuildPart() as body_20:
    # Mirror1: mirrored copy
    add(body_18.part.mirror(Plane.ZY))


with BuildPart() as body_21:
    # Mirror1 2: mirrored copy
    add(body_17.part.mirror(Plane.ZY))


with BuildPart() as body_22:
    # Mirror1 3: mirrored copy
    add(body_19.part.mirror(Plane.ZY))


with BuildPart() as body_23:
    # Sketch7 → Boss-Extrude7 (new body)
    with BuildSketch(Plane.ZY.offset(-189.55)):
        Polygon((-447.00694147, -23.194080205), (-438.554576236, -5.067924464), (-456.680731976, 3.38444077), (-465.133097211, -14.74171497), align=None)
    extrude(amount=BOSS_EXTRUDE7_DEPTH)


with BuildPart() as body_24:
    # Sketch7 → Boss-Extrude7 2 (new body)
    with BuildSketch(Plane.ZY.offset(-189.55)):
        Polygon((-512.090153778, -162.765479409), (-520.542519013, -180.891635149), (-538.668674754, -172.439269915), (-530.216309519, -154.313114174), align=None)
    extrude(amount=BOSS_EXTRUDE7_2_DEPTH)


with BuildPart() as body_25:
    # Sketch8 → Boss-Extrude8 (new body)
    with BuildSketch(Plane.ZY.offset(126.36)):
        Polygon((613.308129552, -19.083317078), (613.308129552, -131.190539993), (593.308129552, -131.190539993), (593.308129552, -27.367588325), (555.940541227, 10), (228.6, 10), (228.6, 30), (564.224812475, 30), align=None)
    extrude(amount=-BOSS_EXTRUDE8_DEPTH)


with BuildPart() as body_26:
    # Mirror2: mirrored copy
    add(body_25.part.mirror(Plane.ZY))


with BuildPart() as body_27:
    # Sketch9 → Boss-Extrude9 (new body)
    with BuildSketch(Plane(origin=(-106.36, 0, 0), x_dir=(0, 0, -1), z_dir=(1, 0, 0))):
        with Locations((-523.310598912, 20)):
            Rectangle(SKETCH9_W, SKETCH9_H)
    extrude(amount=BOSS_EXTRUDE9_DEPTH)


with BuildPart() as body_28:
    # Sketch9 → Boss-Extrude9 2 (new body)
    with BuildSketch(Plane(origin=(-106.36, 0, 0), x_dir=(0, 0, -1), z_dir=(1, 0, 0))):
        with Locations((-603.308129552, -59.997474683)):
            Rectangle(SKETCH9_W, SKETCH9_H)
    extrude(amount=BOSS_EXTRUDE9_2_DEPTH)


with BuildPart() as body_29:
    # Sketch10 → Boss-Extrude10 (new body)
    with BuildSketch(Plane.XY.offset(623.308009553)):
        with Locations((34.05006, -194.527919993)):
            Rectangle(SKETCH10_W, SKETCH10_H)
    extrude(amount=-BOSS_EXTRUDE10_DEPTH)


with BuildPart() as body_30:
    # Sketch15 → Boss-Extrude14 (new body)
    with BuildSketch(Plane.ZY.offset(-209.55)):
        Polygon((-397.436638035, -337.60086292), (-570.184995851, -257.046980737), (-570.184995851, -190.844305599), (-372.07954233, -283.222395698), align=None)
    extrude(amount=BOSS_EXTRUDE14_DEPTH)


solid = Compound([part.part, body_2.part, body_3.part, body_4.part, body_5.part, body_6.part, body_7.part, body_8.part, body_9.part, body_10.part, body_11.part, body_12.part, body_13.part, body_14.part, body_15.part, body_16.part, body_17.part, body_18.part, body_19.part, body_20.part, body_21.part, body_22.part, body_23.part, body_24.part, body_25.part, body_26.part, body_27.part, body_28.part, body_29.part, body_30.part])
